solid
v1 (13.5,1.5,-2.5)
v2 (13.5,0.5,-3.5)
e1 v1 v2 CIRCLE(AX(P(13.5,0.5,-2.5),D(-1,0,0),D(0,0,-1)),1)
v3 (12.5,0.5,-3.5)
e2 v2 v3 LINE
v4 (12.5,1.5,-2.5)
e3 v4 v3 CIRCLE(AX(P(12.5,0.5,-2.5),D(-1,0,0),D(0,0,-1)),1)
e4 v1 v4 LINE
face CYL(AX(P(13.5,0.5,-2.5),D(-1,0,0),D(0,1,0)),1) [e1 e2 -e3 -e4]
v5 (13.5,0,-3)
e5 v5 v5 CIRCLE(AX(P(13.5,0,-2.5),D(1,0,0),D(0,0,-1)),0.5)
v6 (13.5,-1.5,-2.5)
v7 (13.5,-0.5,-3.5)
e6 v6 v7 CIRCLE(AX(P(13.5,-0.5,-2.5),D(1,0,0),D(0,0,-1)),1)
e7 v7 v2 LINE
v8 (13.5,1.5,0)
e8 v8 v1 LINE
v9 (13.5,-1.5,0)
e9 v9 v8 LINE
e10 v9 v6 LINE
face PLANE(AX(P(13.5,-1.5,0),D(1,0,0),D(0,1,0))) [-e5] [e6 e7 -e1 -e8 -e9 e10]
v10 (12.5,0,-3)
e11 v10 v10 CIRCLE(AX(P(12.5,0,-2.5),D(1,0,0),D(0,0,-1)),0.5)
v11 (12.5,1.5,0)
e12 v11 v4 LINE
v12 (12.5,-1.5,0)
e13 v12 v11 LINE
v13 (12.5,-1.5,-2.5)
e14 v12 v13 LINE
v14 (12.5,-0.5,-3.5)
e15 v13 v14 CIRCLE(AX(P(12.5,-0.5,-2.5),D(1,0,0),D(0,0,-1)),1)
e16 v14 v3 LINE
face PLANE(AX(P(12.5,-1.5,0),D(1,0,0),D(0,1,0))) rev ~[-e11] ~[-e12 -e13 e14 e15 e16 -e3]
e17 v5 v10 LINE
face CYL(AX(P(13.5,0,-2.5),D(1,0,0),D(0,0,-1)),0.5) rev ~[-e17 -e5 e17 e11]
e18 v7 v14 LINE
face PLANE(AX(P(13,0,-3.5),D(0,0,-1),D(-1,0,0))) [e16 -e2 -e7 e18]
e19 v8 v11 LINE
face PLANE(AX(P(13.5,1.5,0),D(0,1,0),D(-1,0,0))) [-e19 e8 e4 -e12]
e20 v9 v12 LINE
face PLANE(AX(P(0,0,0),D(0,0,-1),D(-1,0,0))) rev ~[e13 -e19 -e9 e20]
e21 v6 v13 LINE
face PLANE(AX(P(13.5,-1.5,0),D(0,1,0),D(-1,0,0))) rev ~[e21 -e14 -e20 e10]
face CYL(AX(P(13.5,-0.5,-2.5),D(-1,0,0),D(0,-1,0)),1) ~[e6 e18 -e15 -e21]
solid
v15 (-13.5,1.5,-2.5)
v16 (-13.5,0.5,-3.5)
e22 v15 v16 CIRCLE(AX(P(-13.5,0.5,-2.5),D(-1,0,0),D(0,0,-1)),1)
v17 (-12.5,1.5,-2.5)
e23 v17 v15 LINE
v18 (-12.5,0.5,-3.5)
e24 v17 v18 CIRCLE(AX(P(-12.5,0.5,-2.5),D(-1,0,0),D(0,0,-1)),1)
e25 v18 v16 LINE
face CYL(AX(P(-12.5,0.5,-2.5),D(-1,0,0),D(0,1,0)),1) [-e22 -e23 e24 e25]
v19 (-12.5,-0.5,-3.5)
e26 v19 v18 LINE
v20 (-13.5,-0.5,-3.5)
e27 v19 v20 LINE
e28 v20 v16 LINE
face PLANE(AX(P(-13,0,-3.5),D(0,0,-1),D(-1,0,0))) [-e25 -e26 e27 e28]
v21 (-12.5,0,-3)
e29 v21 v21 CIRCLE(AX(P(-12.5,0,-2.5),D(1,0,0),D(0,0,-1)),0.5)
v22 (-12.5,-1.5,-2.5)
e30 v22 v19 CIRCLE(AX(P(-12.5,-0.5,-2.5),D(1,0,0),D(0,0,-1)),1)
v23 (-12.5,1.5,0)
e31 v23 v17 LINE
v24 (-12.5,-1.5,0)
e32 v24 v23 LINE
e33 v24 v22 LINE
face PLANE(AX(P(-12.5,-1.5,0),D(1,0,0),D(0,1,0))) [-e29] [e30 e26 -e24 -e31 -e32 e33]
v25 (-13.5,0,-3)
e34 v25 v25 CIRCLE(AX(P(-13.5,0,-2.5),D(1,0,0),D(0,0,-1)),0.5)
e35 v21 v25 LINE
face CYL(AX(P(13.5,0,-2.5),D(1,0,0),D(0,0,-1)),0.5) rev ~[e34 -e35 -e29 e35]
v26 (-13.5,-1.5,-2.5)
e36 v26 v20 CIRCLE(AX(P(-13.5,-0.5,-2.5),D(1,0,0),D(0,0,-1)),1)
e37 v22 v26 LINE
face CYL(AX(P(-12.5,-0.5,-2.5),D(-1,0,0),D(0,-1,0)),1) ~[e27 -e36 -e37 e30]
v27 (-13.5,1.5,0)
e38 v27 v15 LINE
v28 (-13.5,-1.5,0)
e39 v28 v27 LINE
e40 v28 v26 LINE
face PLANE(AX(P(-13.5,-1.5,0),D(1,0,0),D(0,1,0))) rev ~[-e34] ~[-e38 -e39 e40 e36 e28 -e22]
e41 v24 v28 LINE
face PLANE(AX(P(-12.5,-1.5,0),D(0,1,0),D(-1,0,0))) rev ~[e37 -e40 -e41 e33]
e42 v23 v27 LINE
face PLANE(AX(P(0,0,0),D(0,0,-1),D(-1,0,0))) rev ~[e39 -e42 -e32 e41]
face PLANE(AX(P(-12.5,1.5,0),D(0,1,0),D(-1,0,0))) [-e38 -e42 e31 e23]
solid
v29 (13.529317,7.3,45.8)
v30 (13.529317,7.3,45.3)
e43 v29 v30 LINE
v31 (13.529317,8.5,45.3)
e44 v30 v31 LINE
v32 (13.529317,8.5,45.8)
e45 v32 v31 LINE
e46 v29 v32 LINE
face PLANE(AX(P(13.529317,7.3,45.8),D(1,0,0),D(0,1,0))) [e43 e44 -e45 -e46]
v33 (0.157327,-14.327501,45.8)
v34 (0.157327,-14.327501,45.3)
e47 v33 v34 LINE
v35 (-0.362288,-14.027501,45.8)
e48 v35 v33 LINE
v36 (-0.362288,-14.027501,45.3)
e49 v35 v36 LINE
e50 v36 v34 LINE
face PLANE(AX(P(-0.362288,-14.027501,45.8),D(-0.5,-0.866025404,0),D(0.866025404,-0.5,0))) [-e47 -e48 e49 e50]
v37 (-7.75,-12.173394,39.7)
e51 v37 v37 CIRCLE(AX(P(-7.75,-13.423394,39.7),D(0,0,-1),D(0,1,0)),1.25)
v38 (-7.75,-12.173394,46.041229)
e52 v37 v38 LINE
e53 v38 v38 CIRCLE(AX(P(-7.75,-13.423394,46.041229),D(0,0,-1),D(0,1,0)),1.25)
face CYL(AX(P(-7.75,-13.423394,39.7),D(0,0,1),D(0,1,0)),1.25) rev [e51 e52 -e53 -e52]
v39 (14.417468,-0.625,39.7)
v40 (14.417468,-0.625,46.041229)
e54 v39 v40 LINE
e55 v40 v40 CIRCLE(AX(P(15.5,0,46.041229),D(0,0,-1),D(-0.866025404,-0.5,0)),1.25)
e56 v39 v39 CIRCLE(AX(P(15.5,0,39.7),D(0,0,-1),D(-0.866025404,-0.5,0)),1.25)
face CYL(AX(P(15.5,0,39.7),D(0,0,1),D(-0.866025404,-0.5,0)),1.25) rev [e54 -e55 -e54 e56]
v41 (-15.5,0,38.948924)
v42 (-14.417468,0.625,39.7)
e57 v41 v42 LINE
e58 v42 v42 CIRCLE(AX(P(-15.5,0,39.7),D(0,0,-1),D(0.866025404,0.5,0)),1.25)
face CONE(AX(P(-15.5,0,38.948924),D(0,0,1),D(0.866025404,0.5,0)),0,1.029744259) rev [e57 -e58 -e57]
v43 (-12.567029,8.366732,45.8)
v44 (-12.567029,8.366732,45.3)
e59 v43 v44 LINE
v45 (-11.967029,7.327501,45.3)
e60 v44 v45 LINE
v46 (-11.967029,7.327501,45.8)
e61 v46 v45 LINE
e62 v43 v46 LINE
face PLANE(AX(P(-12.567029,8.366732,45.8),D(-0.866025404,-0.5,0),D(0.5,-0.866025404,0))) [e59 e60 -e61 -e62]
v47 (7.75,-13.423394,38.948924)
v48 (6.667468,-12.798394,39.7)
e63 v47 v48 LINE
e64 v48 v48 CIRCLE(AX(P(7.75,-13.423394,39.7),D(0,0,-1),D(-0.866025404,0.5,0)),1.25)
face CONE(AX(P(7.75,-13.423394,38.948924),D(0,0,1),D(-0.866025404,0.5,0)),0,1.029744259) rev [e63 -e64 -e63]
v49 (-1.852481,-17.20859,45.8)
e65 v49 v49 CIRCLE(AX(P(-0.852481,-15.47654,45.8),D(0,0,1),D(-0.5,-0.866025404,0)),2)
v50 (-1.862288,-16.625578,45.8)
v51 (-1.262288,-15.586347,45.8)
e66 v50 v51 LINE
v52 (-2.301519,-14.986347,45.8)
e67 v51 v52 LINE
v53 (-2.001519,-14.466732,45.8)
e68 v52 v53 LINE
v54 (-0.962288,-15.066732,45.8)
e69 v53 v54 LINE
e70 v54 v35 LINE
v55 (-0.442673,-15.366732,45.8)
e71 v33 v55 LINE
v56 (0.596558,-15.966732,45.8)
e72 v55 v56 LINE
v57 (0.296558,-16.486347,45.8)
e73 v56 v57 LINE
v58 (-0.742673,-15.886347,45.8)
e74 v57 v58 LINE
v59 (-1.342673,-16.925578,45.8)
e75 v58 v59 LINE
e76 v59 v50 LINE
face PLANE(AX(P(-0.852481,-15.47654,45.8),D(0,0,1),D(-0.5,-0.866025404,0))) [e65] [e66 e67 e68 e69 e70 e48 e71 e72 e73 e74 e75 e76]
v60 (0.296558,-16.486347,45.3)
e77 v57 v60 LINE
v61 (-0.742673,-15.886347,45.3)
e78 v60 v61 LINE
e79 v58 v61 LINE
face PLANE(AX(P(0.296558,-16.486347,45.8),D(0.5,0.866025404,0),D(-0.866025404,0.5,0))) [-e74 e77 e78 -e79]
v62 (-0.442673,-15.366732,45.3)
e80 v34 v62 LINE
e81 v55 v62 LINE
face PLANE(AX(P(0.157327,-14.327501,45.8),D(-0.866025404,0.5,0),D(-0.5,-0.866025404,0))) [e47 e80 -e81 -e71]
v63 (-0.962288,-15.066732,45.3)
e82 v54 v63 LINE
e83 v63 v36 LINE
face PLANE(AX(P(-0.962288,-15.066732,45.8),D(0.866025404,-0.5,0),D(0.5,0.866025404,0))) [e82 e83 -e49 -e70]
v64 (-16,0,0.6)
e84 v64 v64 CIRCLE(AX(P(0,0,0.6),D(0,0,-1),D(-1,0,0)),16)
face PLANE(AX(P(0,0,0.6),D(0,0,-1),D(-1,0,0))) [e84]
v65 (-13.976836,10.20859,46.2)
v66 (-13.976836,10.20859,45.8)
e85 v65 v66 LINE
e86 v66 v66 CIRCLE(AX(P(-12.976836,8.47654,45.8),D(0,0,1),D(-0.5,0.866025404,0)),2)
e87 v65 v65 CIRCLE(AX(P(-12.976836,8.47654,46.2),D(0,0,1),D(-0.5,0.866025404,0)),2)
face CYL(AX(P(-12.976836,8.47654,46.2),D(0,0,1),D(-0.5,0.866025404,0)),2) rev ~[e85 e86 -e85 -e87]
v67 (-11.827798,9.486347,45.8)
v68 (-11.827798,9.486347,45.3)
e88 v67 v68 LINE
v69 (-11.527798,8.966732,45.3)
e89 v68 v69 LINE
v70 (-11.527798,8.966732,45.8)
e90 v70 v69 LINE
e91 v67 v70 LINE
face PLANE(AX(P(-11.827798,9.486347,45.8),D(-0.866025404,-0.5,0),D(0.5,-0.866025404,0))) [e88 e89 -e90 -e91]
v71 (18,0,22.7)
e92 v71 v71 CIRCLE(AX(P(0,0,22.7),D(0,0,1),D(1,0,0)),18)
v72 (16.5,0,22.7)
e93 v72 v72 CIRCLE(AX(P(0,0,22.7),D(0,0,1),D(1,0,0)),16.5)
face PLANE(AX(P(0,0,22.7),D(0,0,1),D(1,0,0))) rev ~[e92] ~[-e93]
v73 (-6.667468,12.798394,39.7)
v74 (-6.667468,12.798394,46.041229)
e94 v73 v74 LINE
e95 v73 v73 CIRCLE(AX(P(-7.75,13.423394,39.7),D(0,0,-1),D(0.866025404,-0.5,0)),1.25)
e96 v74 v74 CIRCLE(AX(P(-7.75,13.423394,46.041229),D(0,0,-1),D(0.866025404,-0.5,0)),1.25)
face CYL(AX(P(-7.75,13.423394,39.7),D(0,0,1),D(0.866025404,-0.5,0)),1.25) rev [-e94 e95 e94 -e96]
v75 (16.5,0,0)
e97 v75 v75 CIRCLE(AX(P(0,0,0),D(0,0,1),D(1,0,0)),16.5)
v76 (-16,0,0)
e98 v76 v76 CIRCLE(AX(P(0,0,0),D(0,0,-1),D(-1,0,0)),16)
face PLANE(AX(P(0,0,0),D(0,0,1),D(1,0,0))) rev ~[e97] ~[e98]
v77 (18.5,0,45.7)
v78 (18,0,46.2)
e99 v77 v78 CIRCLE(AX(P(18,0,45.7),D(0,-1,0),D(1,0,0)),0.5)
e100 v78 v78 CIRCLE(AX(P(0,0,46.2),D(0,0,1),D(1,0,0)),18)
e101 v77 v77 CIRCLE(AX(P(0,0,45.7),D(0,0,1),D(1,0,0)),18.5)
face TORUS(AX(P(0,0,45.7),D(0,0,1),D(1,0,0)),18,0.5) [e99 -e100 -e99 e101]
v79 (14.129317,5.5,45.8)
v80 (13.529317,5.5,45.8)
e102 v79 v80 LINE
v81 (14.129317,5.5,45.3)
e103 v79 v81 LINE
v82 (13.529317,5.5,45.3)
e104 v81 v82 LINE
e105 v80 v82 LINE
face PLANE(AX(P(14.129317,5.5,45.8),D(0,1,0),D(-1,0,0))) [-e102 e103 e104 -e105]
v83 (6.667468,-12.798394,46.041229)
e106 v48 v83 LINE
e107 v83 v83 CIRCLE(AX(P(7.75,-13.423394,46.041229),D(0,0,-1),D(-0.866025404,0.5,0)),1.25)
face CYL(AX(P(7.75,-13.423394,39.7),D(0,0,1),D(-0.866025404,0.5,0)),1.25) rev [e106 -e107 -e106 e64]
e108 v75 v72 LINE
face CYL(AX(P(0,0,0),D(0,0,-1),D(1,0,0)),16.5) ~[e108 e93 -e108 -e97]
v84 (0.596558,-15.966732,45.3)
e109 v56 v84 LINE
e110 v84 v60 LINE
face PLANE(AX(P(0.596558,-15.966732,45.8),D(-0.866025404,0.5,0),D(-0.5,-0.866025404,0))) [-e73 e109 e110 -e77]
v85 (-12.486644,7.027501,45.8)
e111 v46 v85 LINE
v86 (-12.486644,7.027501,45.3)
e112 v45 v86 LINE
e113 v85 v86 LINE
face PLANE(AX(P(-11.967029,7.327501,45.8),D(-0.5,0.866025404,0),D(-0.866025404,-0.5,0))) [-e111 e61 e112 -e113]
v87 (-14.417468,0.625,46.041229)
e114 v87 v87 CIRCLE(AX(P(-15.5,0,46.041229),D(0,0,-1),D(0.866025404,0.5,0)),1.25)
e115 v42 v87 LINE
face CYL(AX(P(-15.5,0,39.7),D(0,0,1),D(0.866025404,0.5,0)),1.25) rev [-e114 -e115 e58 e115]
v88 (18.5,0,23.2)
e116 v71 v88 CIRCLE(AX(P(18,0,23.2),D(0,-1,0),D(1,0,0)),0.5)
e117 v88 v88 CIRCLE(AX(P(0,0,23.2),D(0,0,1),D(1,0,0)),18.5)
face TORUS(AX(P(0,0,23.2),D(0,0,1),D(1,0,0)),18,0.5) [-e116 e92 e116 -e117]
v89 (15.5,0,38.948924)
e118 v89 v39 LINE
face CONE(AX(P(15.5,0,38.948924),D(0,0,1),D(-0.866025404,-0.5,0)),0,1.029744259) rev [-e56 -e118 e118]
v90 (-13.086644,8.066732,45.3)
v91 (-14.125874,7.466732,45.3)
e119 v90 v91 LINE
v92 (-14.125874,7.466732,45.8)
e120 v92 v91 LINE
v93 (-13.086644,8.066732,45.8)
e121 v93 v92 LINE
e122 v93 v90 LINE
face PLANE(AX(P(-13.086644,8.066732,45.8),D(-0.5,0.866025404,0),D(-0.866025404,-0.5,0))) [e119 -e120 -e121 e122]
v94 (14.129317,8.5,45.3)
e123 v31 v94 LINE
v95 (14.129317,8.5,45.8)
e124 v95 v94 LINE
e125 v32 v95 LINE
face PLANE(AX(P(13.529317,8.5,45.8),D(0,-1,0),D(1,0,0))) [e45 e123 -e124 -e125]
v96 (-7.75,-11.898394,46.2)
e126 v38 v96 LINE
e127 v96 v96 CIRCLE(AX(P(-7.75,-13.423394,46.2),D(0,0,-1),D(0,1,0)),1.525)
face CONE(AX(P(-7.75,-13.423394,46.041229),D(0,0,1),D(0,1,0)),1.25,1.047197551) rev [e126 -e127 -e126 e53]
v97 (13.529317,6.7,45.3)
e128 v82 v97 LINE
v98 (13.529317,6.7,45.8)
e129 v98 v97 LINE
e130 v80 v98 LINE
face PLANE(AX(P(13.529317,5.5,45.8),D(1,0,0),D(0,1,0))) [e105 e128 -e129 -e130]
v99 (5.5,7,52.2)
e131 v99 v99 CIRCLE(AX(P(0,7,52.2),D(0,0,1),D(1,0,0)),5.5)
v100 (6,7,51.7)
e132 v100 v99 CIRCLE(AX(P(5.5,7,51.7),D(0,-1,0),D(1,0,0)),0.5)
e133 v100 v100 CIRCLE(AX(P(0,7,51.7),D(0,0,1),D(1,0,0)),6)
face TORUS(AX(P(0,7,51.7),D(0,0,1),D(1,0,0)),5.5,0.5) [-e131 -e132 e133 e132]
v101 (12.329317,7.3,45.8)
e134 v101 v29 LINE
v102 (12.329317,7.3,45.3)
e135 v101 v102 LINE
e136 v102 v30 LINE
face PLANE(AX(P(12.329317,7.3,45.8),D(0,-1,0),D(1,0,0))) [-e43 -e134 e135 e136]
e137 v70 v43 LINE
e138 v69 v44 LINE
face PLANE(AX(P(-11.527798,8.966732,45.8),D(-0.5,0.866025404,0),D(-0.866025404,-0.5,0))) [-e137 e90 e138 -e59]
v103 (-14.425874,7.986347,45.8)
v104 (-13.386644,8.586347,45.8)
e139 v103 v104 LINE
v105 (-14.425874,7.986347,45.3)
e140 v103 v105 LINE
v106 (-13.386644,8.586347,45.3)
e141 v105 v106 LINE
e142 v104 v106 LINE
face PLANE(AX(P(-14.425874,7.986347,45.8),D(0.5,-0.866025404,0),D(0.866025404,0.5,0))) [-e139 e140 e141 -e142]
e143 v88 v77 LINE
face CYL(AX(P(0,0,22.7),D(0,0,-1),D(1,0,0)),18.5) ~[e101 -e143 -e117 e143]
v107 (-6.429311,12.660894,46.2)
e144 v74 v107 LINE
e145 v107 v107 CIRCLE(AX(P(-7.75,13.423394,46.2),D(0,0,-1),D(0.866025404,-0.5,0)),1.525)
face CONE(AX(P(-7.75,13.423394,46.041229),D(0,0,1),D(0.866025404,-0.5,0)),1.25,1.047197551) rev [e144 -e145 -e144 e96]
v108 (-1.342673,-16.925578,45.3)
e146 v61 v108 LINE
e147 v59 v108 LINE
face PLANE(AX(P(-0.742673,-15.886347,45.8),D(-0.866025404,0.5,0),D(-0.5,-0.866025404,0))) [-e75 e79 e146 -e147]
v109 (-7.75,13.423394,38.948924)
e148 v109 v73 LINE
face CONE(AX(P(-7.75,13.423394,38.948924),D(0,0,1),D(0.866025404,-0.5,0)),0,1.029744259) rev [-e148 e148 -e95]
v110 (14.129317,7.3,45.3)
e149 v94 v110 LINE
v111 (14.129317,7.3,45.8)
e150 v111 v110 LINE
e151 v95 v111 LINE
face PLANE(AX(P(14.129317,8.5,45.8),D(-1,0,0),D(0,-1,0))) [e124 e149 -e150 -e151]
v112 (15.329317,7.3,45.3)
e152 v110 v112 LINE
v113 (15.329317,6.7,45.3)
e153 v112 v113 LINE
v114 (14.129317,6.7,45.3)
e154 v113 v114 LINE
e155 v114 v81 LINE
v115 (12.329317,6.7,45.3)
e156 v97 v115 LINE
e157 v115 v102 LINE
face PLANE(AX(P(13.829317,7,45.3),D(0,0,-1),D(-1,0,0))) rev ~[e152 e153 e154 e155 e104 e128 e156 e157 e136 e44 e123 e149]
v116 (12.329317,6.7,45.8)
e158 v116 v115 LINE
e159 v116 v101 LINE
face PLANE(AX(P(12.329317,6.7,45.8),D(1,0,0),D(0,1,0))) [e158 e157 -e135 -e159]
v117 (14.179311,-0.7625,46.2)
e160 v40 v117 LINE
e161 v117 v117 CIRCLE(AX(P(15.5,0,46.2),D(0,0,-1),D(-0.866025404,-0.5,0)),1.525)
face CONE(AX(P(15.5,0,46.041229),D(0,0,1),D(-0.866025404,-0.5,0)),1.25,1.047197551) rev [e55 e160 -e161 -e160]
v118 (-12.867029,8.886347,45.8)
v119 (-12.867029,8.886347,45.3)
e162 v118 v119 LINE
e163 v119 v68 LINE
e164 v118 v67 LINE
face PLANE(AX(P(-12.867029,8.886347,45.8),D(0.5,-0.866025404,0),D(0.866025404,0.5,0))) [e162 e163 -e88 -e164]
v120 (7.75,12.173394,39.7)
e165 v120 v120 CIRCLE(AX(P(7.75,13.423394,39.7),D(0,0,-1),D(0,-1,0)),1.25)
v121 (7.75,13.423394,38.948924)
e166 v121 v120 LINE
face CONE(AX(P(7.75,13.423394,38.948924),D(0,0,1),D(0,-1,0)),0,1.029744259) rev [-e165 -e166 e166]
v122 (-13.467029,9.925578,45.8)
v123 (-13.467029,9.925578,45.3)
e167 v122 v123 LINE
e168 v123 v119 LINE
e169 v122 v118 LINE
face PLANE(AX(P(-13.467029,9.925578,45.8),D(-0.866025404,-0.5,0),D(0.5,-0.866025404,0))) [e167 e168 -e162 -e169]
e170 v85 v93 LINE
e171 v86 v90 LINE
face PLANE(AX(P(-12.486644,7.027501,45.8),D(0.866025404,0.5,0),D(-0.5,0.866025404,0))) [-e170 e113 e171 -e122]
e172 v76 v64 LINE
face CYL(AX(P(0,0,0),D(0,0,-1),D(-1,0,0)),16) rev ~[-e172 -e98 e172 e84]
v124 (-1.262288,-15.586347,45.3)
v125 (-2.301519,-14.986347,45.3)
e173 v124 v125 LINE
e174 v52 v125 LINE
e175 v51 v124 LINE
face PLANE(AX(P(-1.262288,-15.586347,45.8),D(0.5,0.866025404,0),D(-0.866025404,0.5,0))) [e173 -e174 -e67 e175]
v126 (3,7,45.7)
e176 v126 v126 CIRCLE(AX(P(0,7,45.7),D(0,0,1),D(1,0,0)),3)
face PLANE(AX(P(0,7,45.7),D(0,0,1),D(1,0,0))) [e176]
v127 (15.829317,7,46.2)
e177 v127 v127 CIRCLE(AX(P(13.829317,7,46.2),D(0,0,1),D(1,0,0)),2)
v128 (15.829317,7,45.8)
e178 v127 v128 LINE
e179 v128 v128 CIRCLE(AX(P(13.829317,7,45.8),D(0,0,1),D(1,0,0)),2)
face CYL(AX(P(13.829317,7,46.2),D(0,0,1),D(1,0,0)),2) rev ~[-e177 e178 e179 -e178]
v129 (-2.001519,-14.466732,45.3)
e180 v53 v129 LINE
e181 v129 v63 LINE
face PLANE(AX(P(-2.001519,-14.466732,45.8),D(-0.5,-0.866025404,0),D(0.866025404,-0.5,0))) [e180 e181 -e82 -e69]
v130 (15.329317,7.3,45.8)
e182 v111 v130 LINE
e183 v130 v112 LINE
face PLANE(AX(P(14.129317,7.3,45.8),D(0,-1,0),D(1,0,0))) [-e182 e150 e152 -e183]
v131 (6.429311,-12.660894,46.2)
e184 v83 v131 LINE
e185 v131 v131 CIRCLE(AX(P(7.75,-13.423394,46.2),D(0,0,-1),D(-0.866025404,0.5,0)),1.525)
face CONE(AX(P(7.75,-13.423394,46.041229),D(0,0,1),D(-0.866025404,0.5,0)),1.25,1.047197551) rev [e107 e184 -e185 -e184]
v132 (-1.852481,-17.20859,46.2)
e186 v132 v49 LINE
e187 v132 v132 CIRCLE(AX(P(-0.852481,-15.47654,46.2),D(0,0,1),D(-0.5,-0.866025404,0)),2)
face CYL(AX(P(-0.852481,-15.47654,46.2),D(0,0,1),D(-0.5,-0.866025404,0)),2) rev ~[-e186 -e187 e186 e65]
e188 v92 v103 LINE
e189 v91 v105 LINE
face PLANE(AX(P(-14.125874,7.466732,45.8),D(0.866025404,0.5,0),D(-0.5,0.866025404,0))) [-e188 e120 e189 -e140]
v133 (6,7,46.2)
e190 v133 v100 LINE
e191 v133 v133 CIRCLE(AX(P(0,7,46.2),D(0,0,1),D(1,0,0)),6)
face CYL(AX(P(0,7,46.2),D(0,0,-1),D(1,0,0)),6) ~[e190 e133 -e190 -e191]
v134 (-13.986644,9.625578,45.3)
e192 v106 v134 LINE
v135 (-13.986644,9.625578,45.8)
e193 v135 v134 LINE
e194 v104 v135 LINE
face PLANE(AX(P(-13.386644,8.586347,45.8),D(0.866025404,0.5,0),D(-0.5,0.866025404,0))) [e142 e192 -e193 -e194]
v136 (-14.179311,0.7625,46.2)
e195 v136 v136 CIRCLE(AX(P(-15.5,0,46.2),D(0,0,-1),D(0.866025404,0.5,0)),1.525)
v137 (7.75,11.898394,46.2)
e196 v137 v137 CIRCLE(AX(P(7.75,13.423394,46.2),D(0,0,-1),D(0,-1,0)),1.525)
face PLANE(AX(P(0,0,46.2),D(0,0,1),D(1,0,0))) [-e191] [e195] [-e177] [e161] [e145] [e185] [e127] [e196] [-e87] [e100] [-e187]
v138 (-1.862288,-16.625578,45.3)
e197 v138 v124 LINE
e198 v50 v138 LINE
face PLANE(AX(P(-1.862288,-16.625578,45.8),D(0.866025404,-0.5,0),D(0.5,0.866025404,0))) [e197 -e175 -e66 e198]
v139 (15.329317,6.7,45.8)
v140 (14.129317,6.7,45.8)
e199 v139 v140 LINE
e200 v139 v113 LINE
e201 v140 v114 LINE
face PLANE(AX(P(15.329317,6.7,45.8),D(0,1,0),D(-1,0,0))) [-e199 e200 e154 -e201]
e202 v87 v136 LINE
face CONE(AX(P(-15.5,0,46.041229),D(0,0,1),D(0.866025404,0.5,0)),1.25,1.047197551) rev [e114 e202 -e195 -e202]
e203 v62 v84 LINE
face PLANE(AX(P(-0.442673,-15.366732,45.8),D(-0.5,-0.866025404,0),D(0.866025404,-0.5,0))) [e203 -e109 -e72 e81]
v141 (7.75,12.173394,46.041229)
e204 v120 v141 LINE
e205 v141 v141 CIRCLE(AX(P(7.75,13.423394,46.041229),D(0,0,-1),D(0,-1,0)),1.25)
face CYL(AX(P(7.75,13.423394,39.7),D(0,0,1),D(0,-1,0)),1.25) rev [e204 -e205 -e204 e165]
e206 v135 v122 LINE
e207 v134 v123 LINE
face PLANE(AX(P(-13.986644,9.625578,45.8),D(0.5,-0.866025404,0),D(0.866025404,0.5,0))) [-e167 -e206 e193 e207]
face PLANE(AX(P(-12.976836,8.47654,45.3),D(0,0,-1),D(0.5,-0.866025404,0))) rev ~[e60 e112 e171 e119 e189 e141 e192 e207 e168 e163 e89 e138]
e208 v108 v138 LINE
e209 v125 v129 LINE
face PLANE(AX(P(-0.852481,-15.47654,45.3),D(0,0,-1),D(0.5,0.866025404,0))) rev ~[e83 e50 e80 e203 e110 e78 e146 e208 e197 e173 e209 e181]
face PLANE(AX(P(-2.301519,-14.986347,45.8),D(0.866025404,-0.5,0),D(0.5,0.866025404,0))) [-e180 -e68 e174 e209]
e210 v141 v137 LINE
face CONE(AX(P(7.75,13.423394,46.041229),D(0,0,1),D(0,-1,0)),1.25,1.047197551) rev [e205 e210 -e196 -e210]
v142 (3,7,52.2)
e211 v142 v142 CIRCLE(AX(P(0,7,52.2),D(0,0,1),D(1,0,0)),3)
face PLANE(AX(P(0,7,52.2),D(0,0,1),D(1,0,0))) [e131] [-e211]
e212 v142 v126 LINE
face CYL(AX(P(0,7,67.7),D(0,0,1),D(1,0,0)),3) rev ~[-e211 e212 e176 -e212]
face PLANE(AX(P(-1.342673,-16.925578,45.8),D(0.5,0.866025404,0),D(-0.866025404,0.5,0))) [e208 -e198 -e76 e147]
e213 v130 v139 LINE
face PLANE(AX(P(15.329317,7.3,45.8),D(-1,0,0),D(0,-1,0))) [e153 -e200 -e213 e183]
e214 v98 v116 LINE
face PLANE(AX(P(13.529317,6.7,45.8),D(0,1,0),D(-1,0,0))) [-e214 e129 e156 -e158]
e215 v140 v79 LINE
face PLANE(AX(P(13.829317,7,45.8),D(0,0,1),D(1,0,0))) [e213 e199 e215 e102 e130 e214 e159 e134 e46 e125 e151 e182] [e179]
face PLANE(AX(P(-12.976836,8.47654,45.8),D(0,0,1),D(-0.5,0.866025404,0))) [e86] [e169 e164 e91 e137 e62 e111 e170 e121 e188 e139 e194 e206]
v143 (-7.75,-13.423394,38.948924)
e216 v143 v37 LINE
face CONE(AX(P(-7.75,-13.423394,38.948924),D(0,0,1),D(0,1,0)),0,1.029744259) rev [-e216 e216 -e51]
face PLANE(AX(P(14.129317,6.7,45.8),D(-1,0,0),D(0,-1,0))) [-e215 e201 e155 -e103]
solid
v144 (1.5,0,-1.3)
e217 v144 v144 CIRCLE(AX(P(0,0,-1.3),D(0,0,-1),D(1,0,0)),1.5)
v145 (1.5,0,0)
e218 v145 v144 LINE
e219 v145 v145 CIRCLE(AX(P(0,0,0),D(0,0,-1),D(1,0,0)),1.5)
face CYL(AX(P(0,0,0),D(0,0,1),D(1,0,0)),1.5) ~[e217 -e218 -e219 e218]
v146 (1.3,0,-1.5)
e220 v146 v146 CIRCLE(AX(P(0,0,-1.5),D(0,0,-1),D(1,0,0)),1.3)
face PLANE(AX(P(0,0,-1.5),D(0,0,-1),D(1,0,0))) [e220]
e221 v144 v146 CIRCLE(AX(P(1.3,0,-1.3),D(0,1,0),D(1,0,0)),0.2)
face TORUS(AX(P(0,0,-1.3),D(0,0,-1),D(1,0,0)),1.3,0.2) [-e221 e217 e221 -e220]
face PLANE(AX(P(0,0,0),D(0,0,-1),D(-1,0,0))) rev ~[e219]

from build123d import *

# Parameters (mm, degrees)
SKETCH_1_R               = 16.5
EXTRUDE_1_DEPTH          = 22.7
SKETCH_2_R               = 18.5
EXTRUDE_2_DEPTH          = 23.5
SKETCH_3_R               = 6
EXTRUDE_3_DEPTH          = 6
SKETCH_4_R               = 3
EXTRUDE_4_DEPTH          = 15.5
CUT_EXTRUDE_START        = -12
CUT_EXTRUDE_1_DEPTH      = 12
SKETCH_6_W               = 1
SKETCH_6_H               = 3
EXTRUDE_5_DEPTH          = 3.5
SKETCH_7_R               = 1.5
EXTRUDE_6_DEPTH          = 1.5
SKETCH_8_R               = 0.5
CUT_EXTRUDE_2_DEPTH      = 78.133261308
FILLET_5_R               = 1
PATTERN_CIRCULAR_1_COUNT = 6
SKETCH_15_R              = 2
CUT_EXTRUDE_3_DEPTH      = 0.4
CUT_EXTRUDE_4_DEPTH      = 0.5
PATTERN_CIRCULAR_2_COUNT = 3
FILLET_6_R               = 0.5
SKETCH_18_R              = 16
CUT_EXTRUDE_5_DEPTH      = 0.6
FILLET_7_R               = 0.2
CHAMFER_1_SIZE           = 0.3
CROQUIS1_R               = 3
CORTAR_EXTRUIR1_DEPTH    = 22


with BuildPart() as part:
    # 草图1 → 凸台-拉伸1 (new body)
    with BuildSketch(Plane.XY):
        Circle(SKETCH_1_R)
    extrude(amount=EXTRUDE_1_DEPTH)

    # 草图2 → 凸台-拉伸2 (add)
    with BuildSketch(Plane.XY.offset(22.7)):
        Circle(SKETCH_2_R)
    extrude(amount=EXTRUDE_2_DEPTH)

    # 草图3 → 凸台-拉伸3 (add)
    with BuildSketch(Plane.XY.offset(46.2)):
        with Locations((0, 7)):
            Circle(SKETCH_3_R)
    extrude(amount=EXTRUDE_3_DEPTH)

    # 草图4 → 凸台-拉伸4 (add)
    with BuildSketch(Plane.XY.offset(52.2)):
        with Locations((0, 7)):
            Circle(SKETCH_4_R)
    extrude(amount=EXTRUDE_4_DEPTH)

    # 草图5 → 切除-拉伸1 (cut)
    with BuildSketch(Plane.XY.offset(67.7).offset(CUT_EXTRUDE_START)):
        with BuildLine():
            Line((-1.658312395, 9.5), (1.658312395, 9.5))
            ThreePointArc((1.658312395, 9.5), (0, 10), (-1.658312395, 9.5))
        make_face()
    extrude(amount=CUT_EXTRUDE_1_DEPTH, mode=Mode.SUBTRACT)

    # 草图6 → 凸台-拉伸5 (add)
    with BuildSketch(Plane(origin=(0, 0, 0), x_dir=(-1, 0, 0), z_dir=(0, 0, -1))):
        with Locations((-13, 0)):
            Rectangle(SKETCH_6_W, SKETCH_6_H)
        with Locations((13, 0)):
            Rectangle(SKETCH_6_W, SKETCH_6_H)
    extrude(amount=EXTRUDE_5_DEPTH)

    # 草图7 → 凸台-拉伸6 (add)
    with BuildSketch(Plane(origin=(0, 0, 0), x_dir=(-1, 0, 0), z_dir=(0, 0, -1))):
        Circle(SKETCH_7_R)
    extrude(amount=EXTRUDE_6_DEPTH)

    # 草图8 → 切除-拉伸2 (cut, through all)
    with BuildSketch(Plane(origin=(13.5, 0, 0), x_dir=(0, 0, -1), z_dir=(1, 0, 0))):
        with Locations((2.5, 0)):
            Circle(SKETCH_8_R)
    extrude(amount=-CUT_EXTRUDE_2_DEPTH, mode=Mode.SUBTRACT)

    # 圆角5
    fillet_5_edges = [part.edges().sort_by_distance(p)[0] for p in [
        (-13, 1.5, -3.5),
        (-13, -1.5, -3.5),
        (13, 1.5, -3.5),
        (13, -1.5, -3.5),
    ]]
    fillet(fillet_5_edges, radius=FILLET_5_R)

    # 草图13 → M3 螺纹孔3 (revolve, cut)
    with BuildSketch(Plane(origin=(7.75, 13.423393759, 46.2), x_dir=(0, -1, 0), z_dir=(1, 0, 0))):
        Polygon((0, 0), (0, 7.251075774), (1.25, 6.5), (1.25, 0.158771324), (1.525, 0), align=None)
    hole_wizard_m3_3 = revolve(axis=Axis((7.75, 13.423393759, 52.55), (0, 0, -1)), mode=Mode.SUBTRACT)

    # 阵列(圆周)1: M3 螺纹孔3 ×6 about axis
    pattern_circular_1_axis = Axis((0, 0, -7.35), (0, 0, 1))
    for i in range(1, PATTERN_CIRCULAR_1_COUNT):
        add(hole_wizard_m3_3.rotate(pattern_circular_1_axis, i * 360 / PATTERN_CIRCULAR_1_COUNT), mode=Mode.SUBTRACT)

    # 草图15 → 切除-拉伸3 (cut)
    with BuildSketch(Plane.XY.offset(46.2)):
        with Locations((13.829316686, 7)):
            Circle(SKETCH_15_R)
    cut_extrude_3 = extrude(amount=-CUT_EXTRUDE_3_DEPTH, mode=Mode.SUBTRACT)

    # 草图17 → 切除-拉伸4 (cut)
    with BuildSketch(Plane.XY.offset(45.8)):
        Polygon((13.529316686, 5.5), (13.529316686, 6.7), (12.329316686, 6.7), (12.329316686, 7.3), (13.529316686, 7.3), (13.529316686, 8.5), (14.129316686, 8.5), (14.129316686, 7.3), (15.329316686, 7.3), (15.329316686, 6.7), (14.129316686, 6.7), (14.129316686, 5.5), align=None)
    cut_extrude_4 = extrude(amount=-CUT_EXTRUDE_4_DEPTH, mode=Mode.SUBTRACT)

    # 阵列(圆周)2: 切除-拉伸3, 切除-拉伸4 ×3 about axis
    pattern_circular_2_axis = Axis((0, 0, -7.35), (0, 0, 1))
    add([cut_extrude_3.rotate(pattern_circular_2_axis, i * 360 / PATTERN_CIRCULAR_2_COUNT) for i in range(1, PATTERN_CIRCULAR_2_COUNT)], mode=Mode.SUBTRACT)
    add([cut_extrude_4.rotate(pattern_circular_2_axis, i * 360 / PATTERN_CIRCULAR_2_COUNT) for i in range(1, PATTERN_CIRCULAR_2_COUNT)], mode=Mode.SUBTRACT)

    # 圆角6
    fillet_6_edges = [part.edges().sort_by_distance(p)[0] for p in [
        (-6, 7, 52.2),
        (-18.5, 0, 46.2),
        (-18.5, 0, 22.7),
    ]]
    fillet(fillet_6_edges, radius=FILLET_6_R)

    # 草图18 → 切除-拉伸5 (cut)
    with BuildSketch(Plane(origin=(0, 0, 0), x_dir=(-1, 0, 0), z_dir=(0, 0, -1))):
        Circle(SKETCH_18_R)
    extrude(amount=-CUT_EXTRUDE_5_DEPTH, mode=Mode.SUBTRACT)


with BuildPart() as cut_extrude_5_piece_1:
    # of the separate pieces the step leaves, piece 1, a body of its own (cut_extrude_5_pieces)
    add(part.part.solids().sort_by_distance((18, 0, 22.7))[0])

    # 倒角1
    chamfer_1_edges = [cut_extrude_5_piece_1.edges().sort_by_distance(p)[0] for p in [
        (0, 9.5, 67.7),
        (-1.418637165, 4.356617963, 67.7),
    ]]
    chamfer(chamfer_1_edges, length=CHAMFER_1_SIZE)

    # Croquis1 → Cortar-Extruir1 (cut)
    with BuildSketch(Plane.XY.offset(67.7)):
        with Locations((0, 7)):
            Circle(CROQUIS1_R)
    extrude(amount=-CORTAR_EXTRUIR1_DEPTH, mode=Mode.SUBTRACT)


with BuildPart() as cut_extrude_5_piece_2:
    # of the separate pieces the step leaves, piece 2, a body of its own (cut_extrude_5_pieces)
    add(part.part.solids().sort_by_distance((-1.5, 0, 0))[0])

    # 圆角7
    fillet_7_edges = [cut_extrude_5_piece_2.edges().sort_by_distance(p)[0] for p in [
        (1.5, 0, -1.5),
    ]]
    fillet(fillet_7_edges, radius=FILLET_7_R)


with BuildPart() as cut_extrude_5_piece_3:
    # of the separate pieces the step leaves, piece 3, a body of its own (cut_extrude_5_pieces)
    add(part.part.solids().sort_by_distance((13.5, 1.5, -2.5))[0])


with BuildPart() as cut_extrude_5_piece_4:
    # of the separate pieces the step leaves, piece 4, a body of its own (cut_extrude_5_pieces)
    add(part.part.solids().sort_by_distance((-13.5, 1.5, -2.5))[0])


solid = Compound([cut_extrude_5_piece_1.part, cut_extrude_5_piece_2.part, cut_extrude_5_piece_3.part, cut_extrude_5_piece_4.part])
